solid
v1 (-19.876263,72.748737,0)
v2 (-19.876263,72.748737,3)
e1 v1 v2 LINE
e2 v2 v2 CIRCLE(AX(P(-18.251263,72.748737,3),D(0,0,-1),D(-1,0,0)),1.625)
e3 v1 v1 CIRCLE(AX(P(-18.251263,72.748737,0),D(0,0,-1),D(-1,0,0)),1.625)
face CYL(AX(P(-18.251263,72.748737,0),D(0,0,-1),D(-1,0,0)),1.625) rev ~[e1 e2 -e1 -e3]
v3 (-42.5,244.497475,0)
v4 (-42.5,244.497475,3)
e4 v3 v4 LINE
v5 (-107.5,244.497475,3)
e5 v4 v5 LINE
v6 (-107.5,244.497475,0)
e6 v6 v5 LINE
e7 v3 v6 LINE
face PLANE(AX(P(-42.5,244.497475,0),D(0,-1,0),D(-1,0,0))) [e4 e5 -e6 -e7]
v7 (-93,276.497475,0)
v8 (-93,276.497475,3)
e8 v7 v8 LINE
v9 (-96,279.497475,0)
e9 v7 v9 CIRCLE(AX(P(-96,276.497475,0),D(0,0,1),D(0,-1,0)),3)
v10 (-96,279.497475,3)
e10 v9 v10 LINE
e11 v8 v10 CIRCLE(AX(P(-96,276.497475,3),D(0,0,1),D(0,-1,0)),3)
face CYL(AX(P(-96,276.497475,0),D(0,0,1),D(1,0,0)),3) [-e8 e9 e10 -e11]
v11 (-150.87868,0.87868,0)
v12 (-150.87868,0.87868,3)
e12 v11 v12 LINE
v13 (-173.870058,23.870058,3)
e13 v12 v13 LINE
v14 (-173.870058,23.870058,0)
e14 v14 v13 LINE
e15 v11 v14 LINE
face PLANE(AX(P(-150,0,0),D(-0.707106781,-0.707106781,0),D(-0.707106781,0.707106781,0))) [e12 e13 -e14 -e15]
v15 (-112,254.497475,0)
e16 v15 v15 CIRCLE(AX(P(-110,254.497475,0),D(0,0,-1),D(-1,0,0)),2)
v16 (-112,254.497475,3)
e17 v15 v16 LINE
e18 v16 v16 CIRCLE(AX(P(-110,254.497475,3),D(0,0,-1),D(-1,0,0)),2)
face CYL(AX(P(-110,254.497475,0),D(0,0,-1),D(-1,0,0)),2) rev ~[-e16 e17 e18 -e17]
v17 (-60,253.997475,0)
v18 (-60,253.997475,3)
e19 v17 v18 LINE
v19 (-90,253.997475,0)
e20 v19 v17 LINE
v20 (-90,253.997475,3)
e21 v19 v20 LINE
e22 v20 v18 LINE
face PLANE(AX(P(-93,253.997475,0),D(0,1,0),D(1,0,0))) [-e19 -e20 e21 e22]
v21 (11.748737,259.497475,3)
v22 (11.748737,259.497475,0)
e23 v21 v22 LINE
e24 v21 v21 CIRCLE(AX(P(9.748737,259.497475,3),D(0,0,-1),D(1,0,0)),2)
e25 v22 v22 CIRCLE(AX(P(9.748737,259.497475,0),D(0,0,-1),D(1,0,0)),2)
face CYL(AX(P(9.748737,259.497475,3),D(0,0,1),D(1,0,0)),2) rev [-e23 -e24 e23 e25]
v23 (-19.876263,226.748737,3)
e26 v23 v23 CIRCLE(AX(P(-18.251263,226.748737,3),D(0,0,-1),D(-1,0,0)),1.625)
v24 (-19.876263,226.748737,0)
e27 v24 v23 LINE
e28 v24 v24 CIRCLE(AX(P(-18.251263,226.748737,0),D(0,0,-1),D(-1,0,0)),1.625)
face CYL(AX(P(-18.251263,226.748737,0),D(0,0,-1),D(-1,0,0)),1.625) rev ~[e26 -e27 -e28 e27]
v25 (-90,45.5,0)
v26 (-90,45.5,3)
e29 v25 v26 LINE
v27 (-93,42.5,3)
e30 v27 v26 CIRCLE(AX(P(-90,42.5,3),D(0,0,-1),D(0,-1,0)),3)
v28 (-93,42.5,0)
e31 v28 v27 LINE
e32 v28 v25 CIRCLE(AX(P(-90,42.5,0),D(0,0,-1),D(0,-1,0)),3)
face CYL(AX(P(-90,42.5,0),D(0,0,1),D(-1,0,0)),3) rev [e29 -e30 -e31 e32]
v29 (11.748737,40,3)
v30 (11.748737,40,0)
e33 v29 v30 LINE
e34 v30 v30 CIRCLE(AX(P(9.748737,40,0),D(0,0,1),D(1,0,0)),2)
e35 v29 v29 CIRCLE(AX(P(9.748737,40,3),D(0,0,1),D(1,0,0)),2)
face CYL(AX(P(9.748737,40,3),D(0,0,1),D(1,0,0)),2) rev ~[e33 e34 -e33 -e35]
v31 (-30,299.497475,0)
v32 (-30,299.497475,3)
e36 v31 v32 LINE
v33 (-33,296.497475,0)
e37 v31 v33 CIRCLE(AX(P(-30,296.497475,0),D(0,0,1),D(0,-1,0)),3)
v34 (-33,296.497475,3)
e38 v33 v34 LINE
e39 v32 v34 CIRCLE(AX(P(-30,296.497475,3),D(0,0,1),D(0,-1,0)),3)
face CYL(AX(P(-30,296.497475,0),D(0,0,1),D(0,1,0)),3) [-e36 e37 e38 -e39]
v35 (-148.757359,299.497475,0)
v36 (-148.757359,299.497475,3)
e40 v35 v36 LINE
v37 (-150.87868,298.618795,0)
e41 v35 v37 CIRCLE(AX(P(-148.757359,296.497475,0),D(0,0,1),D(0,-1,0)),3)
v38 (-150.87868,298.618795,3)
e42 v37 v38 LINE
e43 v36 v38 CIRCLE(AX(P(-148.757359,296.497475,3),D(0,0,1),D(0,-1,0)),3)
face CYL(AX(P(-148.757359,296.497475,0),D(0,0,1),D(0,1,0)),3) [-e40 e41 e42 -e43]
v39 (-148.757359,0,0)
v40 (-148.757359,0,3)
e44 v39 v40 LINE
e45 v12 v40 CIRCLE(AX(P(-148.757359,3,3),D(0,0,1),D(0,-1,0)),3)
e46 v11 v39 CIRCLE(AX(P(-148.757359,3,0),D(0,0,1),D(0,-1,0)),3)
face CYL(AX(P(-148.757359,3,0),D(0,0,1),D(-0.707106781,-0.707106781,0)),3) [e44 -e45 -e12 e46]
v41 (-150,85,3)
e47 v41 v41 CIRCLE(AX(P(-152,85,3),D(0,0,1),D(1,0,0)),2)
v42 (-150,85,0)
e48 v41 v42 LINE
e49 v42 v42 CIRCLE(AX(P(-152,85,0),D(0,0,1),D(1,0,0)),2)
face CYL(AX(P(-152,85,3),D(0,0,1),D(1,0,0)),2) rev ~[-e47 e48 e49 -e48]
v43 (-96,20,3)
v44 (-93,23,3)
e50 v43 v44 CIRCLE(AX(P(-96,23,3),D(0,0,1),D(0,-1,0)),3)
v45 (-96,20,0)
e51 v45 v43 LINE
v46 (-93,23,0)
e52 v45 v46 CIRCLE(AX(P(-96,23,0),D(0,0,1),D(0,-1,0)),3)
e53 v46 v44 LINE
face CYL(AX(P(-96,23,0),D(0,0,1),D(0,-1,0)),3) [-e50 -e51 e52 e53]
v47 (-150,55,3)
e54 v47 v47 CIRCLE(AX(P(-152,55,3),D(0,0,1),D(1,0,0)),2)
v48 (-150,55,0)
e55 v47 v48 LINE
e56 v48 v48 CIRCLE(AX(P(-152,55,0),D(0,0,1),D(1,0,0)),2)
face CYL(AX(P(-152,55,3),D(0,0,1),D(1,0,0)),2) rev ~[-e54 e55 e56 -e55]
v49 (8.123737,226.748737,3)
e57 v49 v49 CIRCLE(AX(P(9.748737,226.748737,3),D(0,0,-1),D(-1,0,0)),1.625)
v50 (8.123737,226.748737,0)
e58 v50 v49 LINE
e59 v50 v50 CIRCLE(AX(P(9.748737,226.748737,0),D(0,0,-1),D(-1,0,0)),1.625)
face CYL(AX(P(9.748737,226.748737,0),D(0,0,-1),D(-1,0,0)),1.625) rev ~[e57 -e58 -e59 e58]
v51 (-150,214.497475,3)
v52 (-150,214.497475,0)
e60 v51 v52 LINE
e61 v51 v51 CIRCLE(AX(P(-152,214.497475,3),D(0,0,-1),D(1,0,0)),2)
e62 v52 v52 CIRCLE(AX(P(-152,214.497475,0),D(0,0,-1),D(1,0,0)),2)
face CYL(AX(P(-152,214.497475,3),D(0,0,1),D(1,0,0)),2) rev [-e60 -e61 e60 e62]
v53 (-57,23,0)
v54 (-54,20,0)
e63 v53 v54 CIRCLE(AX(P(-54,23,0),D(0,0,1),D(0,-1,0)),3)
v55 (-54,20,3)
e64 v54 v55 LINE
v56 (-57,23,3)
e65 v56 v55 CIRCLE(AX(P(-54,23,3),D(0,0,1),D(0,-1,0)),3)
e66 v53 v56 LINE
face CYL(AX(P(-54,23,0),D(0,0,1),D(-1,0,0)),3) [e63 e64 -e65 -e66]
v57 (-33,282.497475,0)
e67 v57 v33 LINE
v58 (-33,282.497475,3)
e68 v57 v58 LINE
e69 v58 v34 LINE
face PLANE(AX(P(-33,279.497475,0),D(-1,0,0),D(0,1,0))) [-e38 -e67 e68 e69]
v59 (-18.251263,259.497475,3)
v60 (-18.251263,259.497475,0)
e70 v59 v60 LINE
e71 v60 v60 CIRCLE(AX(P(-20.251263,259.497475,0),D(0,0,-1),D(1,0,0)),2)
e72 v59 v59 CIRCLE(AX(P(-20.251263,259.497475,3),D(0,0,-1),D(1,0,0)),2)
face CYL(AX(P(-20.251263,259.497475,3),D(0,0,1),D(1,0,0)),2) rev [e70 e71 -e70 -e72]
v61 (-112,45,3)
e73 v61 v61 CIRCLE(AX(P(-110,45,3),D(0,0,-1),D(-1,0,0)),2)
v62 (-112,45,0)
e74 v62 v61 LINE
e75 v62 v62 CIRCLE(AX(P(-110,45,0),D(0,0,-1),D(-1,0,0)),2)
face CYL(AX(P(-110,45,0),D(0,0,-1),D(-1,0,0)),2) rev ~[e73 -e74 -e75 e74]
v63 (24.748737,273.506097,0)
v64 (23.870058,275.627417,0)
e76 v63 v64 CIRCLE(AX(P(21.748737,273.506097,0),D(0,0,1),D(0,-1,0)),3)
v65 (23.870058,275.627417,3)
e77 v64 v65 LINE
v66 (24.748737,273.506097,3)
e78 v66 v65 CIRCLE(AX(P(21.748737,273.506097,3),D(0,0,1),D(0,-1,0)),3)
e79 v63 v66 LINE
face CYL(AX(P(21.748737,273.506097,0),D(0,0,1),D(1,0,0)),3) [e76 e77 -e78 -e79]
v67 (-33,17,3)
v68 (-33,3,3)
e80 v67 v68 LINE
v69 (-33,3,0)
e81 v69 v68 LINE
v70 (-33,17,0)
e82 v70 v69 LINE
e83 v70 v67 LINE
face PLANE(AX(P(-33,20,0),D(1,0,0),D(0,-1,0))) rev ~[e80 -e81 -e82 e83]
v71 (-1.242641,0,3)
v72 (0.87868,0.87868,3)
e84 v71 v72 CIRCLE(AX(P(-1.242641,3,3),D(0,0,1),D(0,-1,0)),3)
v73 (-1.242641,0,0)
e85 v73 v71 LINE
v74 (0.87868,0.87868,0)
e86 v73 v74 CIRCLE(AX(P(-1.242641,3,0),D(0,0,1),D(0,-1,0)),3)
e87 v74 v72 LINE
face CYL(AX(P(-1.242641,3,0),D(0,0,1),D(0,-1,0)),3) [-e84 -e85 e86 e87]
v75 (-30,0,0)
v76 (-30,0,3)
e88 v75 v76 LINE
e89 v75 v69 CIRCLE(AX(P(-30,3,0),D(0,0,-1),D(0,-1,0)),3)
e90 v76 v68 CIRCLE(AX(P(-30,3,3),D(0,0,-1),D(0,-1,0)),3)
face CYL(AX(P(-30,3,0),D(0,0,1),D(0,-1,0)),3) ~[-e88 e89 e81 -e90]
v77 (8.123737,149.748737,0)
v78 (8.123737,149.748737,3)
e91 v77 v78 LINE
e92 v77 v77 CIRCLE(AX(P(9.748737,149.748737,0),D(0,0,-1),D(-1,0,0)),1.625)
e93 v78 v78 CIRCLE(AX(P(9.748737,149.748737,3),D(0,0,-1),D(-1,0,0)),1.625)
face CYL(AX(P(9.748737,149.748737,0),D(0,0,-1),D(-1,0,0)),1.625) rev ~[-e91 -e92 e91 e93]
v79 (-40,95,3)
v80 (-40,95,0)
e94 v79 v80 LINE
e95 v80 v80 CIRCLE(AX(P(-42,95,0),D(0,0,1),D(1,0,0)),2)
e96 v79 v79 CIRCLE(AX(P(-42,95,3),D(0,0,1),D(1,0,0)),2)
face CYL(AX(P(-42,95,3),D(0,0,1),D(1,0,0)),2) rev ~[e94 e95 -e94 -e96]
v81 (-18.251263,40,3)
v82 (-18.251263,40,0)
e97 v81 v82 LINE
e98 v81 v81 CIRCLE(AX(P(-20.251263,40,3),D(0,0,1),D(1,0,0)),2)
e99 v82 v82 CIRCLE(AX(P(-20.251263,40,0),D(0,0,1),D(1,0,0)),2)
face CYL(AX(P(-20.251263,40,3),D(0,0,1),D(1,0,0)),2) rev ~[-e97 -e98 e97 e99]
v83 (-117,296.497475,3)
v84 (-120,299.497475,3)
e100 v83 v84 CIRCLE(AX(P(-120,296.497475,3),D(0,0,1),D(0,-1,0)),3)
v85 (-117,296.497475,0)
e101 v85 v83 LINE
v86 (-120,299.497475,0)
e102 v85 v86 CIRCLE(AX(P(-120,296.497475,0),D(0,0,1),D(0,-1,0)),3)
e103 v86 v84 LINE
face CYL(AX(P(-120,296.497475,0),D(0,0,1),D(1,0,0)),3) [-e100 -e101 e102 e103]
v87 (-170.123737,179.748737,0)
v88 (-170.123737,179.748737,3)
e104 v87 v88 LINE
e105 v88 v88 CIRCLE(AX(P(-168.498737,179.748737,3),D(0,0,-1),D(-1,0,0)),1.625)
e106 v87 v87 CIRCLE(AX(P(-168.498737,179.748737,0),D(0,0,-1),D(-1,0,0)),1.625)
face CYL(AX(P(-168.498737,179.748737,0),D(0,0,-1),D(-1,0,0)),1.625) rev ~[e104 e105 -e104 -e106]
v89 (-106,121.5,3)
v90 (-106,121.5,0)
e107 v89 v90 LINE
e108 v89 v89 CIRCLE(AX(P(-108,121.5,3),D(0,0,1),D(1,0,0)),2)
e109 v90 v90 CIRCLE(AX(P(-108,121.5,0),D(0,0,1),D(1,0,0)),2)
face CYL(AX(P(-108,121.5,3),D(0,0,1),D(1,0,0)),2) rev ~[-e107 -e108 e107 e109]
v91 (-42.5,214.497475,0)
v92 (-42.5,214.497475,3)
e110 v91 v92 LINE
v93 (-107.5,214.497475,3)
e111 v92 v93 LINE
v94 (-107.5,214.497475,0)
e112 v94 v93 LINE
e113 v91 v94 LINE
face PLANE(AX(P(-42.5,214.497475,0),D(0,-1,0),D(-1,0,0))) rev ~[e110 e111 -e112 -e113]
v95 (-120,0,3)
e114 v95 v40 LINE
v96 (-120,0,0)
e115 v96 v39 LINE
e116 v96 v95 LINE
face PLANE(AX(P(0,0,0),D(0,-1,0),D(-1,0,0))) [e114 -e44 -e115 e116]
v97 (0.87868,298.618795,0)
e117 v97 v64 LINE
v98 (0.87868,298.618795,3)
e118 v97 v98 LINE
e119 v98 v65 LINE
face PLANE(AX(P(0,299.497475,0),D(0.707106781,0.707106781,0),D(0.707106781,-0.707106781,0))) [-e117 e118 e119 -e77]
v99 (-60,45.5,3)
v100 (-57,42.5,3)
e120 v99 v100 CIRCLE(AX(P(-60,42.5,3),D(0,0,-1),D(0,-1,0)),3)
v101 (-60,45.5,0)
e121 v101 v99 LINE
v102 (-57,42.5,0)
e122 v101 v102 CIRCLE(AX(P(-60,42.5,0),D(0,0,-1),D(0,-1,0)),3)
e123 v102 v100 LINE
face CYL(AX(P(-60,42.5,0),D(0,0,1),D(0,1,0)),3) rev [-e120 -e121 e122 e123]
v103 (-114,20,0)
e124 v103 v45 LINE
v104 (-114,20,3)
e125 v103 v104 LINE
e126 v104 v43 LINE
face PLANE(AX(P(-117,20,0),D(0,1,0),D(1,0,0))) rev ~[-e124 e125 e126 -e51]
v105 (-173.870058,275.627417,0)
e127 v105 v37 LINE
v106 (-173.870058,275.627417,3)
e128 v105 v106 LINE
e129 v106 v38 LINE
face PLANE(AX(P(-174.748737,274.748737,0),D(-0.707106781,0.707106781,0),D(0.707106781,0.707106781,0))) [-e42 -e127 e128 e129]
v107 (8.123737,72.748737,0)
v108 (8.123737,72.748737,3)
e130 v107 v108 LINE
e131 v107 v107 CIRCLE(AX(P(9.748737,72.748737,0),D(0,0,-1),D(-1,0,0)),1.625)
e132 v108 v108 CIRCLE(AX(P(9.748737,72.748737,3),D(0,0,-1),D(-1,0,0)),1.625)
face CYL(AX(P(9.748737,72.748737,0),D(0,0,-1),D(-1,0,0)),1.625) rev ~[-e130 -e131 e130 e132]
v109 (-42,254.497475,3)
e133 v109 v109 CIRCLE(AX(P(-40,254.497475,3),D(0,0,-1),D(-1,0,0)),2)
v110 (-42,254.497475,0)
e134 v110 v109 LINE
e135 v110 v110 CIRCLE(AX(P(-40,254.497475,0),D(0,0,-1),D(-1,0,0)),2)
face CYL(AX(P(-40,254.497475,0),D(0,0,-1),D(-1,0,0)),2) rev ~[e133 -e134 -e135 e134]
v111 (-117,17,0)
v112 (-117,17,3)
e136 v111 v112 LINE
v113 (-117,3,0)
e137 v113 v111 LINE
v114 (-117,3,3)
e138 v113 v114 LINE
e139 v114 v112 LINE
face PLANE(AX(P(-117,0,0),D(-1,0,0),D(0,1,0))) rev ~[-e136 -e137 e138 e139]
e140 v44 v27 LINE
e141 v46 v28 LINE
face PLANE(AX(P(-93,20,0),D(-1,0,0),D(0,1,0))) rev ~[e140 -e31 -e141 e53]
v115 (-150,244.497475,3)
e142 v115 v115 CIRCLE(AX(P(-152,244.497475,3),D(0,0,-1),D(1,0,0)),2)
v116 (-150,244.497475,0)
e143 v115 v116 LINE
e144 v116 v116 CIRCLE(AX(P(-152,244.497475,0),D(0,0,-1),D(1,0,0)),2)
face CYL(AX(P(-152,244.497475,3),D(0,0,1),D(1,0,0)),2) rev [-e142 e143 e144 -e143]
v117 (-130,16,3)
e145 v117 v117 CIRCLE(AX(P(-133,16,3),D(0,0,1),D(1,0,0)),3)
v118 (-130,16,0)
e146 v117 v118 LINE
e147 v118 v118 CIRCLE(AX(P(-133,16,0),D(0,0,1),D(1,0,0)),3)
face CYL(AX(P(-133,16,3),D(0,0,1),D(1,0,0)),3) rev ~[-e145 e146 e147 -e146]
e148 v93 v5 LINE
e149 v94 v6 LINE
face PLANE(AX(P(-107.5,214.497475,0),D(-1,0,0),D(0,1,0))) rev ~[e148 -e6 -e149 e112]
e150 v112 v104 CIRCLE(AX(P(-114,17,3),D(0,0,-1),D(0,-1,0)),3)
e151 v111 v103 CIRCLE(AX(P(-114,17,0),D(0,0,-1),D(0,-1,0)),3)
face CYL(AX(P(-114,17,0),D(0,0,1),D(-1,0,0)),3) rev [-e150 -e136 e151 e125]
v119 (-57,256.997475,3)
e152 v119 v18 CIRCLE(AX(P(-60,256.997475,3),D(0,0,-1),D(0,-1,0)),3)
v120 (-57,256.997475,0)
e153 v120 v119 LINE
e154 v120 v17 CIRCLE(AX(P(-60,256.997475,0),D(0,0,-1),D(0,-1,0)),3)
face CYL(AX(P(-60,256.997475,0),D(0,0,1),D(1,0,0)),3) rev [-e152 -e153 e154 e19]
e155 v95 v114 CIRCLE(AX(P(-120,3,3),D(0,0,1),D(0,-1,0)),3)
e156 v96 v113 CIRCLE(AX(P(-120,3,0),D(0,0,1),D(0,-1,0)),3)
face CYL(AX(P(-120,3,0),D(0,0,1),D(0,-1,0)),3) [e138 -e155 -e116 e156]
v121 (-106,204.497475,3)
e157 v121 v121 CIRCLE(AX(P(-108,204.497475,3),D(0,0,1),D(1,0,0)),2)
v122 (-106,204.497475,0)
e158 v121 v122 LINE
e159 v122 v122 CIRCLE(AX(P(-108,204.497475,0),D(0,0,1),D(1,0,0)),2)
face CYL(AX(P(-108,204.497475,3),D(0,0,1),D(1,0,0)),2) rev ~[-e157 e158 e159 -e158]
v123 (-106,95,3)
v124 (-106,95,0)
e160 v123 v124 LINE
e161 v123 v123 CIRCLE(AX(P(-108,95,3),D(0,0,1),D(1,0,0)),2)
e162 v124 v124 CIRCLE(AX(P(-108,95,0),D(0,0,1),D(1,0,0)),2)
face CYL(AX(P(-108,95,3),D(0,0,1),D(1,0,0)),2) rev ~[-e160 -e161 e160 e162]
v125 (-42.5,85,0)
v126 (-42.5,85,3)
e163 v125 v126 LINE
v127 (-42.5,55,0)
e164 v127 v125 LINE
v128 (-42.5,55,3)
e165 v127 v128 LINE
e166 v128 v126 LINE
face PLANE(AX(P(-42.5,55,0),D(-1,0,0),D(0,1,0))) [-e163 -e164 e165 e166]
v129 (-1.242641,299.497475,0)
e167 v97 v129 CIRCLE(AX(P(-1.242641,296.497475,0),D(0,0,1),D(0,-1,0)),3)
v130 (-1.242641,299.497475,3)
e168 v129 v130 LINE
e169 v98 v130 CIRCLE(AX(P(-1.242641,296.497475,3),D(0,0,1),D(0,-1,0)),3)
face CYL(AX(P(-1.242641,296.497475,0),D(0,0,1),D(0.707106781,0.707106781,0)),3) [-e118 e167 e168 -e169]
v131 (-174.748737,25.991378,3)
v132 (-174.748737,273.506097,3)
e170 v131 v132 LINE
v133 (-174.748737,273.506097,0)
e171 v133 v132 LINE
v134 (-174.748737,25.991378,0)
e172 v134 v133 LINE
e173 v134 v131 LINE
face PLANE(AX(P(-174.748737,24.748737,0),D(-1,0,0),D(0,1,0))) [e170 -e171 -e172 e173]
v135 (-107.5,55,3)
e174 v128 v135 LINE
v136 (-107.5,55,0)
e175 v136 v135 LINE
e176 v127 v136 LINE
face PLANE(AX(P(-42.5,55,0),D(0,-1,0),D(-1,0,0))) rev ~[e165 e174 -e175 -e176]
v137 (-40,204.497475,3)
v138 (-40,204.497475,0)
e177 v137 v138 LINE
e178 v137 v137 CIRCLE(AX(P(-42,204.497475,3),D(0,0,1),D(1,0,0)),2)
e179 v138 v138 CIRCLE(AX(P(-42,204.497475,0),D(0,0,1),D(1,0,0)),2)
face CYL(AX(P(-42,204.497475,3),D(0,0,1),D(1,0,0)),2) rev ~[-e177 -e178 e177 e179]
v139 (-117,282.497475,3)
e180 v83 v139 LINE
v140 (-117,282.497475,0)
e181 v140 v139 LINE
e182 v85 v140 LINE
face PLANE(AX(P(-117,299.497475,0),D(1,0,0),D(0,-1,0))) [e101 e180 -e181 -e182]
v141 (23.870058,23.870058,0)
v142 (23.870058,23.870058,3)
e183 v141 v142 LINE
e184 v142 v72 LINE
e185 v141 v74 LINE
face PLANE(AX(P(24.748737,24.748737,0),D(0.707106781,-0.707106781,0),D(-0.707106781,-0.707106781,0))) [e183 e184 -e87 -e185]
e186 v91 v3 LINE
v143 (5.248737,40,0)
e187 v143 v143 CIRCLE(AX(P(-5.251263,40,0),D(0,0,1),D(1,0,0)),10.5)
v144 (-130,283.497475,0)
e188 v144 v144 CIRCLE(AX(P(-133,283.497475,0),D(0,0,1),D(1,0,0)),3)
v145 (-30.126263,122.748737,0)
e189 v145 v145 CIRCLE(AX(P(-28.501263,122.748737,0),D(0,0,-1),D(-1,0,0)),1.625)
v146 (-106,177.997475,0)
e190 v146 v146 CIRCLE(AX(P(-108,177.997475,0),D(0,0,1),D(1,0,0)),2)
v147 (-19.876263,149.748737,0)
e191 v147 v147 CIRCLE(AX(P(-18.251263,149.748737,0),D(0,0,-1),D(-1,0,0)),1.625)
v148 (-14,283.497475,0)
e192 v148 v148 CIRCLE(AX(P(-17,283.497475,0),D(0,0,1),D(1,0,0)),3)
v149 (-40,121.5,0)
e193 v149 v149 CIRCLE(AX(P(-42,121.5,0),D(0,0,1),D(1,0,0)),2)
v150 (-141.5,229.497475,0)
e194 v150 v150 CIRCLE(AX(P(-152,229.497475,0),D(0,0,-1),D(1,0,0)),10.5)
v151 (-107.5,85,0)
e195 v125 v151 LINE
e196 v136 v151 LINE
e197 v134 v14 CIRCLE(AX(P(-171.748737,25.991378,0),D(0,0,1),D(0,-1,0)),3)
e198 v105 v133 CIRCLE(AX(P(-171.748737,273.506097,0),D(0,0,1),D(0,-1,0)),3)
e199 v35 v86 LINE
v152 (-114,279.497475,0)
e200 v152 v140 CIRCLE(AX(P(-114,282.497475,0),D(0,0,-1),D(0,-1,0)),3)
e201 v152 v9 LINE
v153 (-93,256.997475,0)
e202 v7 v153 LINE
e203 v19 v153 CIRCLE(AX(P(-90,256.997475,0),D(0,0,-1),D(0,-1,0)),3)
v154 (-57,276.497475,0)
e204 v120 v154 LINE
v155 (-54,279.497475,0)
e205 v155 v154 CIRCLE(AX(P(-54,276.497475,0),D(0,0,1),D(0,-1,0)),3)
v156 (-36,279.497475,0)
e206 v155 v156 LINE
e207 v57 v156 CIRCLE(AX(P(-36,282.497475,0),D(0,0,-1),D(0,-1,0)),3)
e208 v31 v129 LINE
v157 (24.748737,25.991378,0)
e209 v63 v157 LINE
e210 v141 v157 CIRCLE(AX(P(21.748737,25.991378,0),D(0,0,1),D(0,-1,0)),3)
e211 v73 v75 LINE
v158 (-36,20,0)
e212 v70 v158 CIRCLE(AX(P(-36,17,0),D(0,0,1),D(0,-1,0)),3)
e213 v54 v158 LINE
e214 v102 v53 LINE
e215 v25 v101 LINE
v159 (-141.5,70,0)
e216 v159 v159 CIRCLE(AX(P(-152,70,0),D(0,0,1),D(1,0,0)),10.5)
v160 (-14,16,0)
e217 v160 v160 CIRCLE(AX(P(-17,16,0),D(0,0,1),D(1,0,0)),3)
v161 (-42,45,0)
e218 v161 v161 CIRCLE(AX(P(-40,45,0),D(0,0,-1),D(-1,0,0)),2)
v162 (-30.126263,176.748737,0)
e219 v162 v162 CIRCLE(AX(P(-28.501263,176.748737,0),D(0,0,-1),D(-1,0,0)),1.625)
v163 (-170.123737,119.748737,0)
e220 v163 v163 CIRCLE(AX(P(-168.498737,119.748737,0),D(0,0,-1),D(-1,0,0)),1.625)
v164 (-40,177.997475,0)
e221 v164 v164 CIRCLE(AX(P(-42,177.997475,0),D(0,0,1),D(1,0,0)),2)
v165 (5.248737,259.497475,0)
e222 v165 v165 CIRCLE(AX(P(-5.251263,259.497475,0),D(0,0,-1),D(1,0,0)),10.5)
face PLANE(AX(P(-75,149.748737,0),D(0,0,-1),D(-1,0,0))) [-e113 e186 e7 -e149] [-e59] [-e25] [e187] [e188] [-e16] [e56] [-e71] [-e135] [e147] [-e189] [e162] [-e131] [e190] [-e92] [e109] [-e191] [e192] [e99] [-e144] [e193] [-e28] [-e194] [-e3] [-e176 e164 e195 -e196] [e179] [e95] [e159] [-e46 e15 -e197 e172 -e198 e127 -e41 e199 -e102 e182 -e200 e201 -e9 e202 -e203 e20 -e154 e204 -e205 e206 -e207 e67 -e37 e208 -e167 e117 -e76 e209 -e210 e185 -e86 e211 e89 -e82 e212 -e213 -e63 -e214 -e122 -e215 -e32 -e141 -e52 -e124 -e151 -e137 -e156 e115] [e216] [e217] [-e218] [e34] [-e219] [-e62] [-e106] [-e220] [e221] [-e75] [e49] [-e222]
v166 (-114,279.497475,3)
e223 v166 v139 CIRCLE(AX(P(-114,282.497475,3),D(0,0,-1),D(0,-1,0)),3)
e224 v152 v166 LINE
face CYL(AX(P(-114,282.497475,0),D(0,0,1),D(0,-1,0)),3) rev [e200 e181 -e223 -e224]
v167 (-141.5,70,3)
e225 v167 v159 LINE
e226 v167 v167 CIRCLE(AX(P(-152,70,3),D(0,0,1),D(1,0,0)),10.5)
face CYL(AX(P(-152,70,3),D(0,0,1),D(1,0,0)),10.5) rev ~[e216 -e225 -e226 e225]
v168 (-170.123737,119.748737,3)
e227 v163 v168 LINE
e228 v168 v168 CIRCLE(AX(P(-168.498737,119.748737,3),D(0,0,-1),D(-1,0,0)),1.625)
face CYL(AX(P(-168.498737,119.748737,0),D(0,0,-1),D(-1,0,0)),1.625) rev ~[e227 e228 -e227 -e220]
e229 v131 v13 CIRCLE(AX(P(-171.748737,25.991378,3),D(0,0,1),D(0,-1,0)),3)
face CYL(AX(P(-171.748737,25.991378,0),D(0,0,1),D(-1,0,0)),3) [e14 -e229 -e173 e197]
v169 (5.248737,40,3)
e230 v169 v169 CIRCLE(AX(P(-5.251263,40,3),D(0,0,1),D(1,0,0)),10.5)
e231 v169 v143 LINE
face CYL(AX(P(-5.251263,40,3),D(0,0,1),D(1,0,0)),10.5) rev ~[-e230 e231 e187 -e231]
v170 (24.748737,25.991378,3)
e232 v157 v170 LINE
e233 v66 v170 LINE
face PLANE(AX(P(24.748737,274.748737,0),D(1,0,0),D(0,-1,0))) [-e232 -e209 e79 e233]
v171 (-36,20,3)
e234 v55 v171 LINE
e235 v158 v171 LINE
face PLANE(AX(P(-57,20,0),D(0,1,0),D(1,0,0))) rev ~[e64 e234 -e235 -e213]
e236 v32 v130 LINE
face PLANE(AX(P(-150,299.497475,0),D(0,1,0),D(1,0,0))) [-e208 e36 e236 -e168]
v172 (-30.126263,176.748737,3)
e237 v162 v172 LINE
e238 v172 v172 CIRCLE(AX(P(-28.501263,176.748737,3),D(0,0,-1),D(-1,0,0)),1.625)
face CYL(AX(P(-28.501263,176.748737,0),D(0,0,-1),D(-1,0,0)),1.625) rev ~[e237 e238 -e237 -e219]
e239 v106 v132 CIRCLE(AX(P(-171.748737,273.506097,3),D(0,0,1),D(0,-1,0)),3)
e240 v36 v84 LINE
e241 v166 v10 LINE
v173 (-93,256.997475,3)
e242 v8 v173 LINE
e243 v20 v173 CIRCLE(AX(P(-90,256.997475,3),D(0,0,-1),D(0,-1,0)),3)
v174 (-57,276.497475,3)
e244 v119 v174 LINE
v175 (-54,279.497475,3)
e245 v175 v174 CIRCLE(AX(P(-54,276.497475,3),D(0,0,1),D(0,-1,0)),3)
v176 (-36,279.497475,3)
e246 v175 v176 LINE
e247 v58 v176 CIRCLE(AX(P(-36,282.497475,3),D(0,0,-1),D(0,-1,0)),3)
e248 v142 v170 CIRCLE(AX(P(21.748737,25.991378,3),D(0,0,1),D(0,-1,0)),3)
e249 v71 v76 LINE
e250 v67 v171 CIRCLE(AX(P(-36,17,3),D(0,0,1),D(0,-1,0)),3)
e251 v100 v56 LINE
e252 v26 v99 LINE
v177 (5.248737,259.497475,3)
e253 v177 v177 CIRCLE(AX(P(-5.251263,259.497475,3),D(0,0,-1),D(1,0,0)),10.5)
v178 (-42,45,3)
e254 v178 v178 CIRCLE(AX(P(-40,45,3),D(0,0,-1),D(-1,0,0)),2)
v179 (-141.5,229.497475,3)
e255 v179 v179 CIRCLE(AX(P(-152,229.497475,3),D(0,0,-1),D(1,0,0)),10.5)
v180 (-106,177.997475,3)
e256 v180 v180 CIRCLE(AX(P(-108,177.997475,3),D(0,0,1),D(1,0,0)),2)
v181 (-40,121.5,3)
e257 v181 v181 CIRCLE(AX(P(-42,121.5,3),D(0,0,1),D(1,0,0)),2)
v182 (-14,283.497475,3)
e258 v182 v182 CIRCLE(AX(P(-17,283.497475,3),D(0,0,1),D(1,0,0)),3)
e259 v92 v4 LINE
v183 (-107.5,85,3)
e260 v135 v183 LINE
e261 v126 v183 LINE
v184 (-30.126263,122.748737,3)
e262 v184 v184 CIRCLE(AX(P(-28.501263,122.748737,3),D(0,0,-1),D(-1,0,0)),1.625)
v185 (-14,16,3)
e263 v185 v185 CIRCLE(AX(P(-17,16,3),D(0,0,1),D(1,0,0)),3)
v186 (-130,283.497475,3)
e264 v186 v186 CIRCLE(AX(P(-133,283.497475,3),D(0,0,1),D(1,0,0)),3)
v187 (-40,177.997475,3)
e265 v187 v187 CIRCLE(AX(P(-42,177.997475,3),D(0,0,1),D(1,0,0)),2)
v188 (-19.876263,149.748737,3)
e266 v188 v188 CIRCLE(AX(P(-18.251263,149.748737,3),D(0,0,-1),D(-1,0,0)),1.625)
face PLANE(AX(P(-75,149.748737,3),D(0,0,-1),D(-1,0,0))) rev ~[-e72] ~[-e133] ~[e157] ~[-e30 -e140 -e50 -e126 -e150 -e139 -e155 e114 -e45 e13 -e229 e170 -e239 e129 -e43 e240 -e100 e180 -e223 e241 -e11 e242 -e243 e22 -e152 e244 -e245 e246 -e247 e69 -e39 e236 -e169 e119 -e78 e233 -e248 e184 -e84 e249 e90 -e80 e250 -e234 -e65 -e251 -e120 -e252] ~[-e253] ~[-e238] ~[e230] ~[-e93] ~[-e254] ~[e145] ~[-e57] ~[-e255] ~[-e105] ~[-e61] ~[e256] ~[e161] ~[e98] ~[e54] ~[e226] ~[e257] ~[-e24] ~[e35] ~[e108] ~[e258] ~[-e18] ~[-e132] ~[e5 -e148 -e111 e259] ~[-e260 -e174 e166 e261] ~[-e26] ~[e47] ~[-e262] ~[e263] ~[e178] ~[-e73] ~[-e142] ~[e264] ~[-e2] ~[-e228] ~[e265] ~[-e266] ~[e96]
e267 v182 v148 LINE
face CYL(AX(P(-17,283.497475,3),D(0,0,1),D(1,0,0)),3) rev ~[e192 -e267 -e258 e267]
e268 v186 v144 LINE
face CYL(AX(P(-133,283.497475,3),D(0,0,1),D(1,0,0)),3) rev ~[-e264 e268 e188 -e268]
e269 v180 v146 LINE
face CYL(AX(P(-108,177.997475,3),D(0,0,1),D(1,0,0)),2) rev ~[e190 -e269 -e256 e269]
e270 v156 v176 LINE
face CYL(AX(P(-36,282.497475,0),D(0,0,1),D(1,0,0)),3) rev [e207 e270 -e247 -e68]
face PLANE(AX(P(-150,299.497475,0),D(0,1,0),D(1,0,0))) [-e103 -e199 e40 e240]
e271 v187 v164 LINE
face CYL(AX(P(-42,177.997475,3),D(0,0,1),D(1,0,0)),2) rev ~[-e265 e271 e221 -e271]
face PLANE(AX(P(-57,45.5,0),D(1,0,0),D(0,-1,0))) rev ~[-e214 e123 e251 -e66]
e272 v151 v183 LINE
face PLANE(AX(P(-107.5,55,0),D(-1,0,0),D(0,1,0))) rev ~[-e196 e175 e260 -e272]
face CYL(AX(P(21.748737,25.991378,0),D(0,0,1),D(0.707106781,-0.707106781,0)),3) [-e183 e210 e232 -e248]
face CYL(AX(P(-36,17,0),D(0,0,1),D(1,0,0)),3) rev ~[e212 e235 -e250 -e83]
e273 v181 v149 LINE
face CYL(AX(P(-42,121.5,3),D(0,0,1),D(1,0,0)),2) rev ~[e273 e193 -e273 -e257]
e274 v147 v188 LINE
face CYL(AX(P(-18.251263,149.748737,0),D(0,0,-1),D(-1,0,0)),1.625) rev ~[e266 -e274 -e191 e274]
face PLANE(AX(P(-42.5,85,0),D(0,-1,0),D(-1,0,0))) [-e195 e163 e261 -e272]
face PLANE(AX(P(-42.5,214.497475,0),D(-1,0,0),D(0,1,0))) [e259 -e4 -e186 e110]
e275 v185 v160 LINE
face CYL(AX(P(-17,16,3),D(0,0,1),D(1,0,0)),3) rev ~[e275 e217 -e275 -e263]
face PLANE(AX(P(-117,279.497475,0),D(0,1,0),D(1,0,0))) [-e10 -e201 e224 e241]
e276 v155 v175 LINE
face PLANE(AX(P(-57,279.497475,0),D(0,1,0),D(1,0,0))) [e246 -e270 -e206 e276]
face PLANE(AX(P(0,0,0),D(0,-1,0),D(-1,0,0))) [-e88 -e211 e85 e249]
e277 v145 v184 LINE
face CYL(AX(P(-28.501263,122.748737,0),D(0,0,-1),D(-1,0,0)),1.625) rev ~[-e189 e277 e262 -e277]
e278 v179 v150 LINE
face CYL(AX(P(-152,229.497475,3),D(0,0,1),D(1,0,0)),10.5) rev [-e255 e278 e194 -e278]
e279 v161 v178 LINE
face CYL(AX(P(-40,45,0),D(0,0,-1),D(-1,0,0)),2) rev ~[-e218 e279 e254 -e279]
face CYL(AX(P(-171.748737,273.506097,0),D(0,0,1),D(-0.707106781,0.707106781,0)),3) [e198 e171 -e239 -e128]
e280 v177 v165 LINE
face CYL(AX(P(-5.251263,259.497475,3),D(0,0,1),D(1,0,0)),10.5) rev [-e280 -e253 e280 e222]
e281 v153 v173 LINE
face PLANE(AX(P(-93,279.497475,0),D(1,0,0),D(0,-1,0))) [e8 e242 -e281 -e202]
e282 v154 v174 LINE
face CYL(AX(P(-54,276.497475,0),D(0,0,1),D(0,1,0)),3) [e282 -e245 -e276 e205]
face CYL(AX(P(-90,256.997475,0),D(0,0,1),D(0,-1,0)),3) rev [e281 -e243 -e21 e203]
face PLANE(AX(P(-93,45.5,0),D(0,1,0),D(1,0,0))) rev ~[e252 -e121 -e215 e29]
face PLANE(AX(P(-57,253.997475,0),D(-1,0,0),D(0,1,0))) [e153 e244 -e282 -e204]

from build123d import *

# Parameters (mm, degrees)
BASE_DEPTH                = 3
ESQUISSE3_R               = 2
ESQUISSE3_W               = 65
ESQUISSE3_H               = 30
ENL_V_MAT_EXTRU_1_DEPTH   = 4
CONG_1_R                  = 3
ESQUISSE6_R               = 2
ESQUISSE6_R_2             = 10.5
PER_AGE_POUR_BILLES_DEPTH = 3
PER_AGE_POUR_PROFIL_REACH = 5
ESQUISSE8_R               = 3
ESQUISSE10_R              = 2
ENL_V_MAT_EXTRU_3_DEPTH   = 4
ESQUISSE12_R              = 1.625
ENL_V_MAT_EXTRU_4_DEPTH   = 4
ESQUISSE13_R              = 1.625
ENL_V_MAT_EXTRU_5_DEPTH   = 4


with BuildPart() as part:
    # Esquisse1 → Base (new body)
    with BuildSketch(Plane.XY):
        Polygon((0, 0), (-150, 0), (-174.748737342, 24.748737342), (-174.748737342, 274.748737342), (-150, 299.497474683), (0, 299.497474683), (24.748737342, 274.748737342), (24.748737342, 24.748737342), align=None)
    extrude(amount=BASE_DEPTH)

    # Esquisse3 → Enlèv. mat.-Extru.1 (cut, through all)
    with BuildSketch(Plane(origin=(0, 0, 0), x_dir=(-1, 0, 0), z_dir=(0, 0, -1))):
        with Locations((40, 45)):
            Circle(ESQUISSE3_R)
        with Locations((110, 45)):
            Circle(ESQUISSE3_R)
        with Locations((110, 254.497474683)):
            Circle(ESQUISSE3_R)
        with Locations((40, 254.497474683)):
            Circle(ESQUISSE3_R)
        Polygon((117, 0), (117, 20), (93, 20), (93, 45.5), (57, 45.5), (57, 20), (33, 20), (33, 0), align=None)
        Polygon((33, 299.497474683), (117, 299.497474683), (117, 279.497474683), (93, 279.497474683), (93, 253.997474683), (57, 253.997474683), (57, 279.497474683), (33, 279.497474683), align=None)
        with Locations((75, 229.497474683)):
            Rectangle(ESQUISSE3_W, ESQUISSE3_H)
        with Locations((75, 70)):
            Rectangle(ESQUISSE3_W, ESQUISSE3_H)
    extrude(amount=-ENL_V_MAT_EXTRU_1_DEPTH, mode=Mode.SUBTRACT)

    # Congé1
    cong_1_edges = [part.edges().sort_by_distance(p)[0] for p in [
        (0, 0, 1.5),
        (-150, 0, 1.5),
        (-174.748737342, 24.748737342, 1.5),
        (-174.748737342, 274.748737342, 1.5),
        (-150, 299.497474683, 1.5),
        (0, 299.497474683, 1.5),
        (24.748737342, 274.748737342, 1.5),
        (24.748737342, 24.748737342, 1.5),
        (-33, 279.497474683, 1.5),
        (-33, 299.497474683, 1.5),
        (-117, 299.497474683, 1.5),
        (-117, 279.497474683, 1.5),
        (-93, 279.497474683, 1.5),
        (-93, 253.997474683, 1.5),
        (-57, 253.997474683, 1.5),
        (-57, 279.497474683, 1.5),
        (-117, 0, 1.5),
        (-33, 0, 1.5),
        (-33, 20, 1.5),
        (-57, 20, 1.5),
        (-57, 45.5, 1.5),
        (-93, 45.5, 1.5),
        (-93, 20, 1.5),
        (-117, 20, 1.5),
    ]]
    fillet(cong_1_edges, radius=CONG_1_R)

    # Esquisse6 → Perçage pour billes (cut)
    with BuildSketch(Plane.XY.offset(3)):
        with Locations((-152, 55)):
            Circle(ESQUISSE6_R)
        with Locations((-152, 85)):
            Circle(ESQUISSE6_R)
        with Locations((-152, 70)):
            Circle(ESQUISSE6_R_2)
        with Locations((-5.251262658, 40)):
            Circle(ESQUISSE6_R_2)
        with Locations((-20.251262658, 40)):
            Circle(ESQUISSE6_R)
        with Locations((9.748737342, 40)):
            Circle(ESQUISSE6_R)
    per_age_pour_billes = extrude(amount=-PER_AGE_POUR_BILLES_DEPTH, mode=Mode.SUBTRACT)

    # Esquisse8 → Perçage pour profilé (cut, up to next)
    with BuildSketch(Plane.XY.offset(3), mode=Mode.PRIVATE) as per_age_pour_profil_sk1:
        with Locations((-133, 16)):
            Circle(ESQUISSE8_R)
    per_age_pour_profil_tool1 = extrude(per_age_pour_profil_sk1.sketch, amount=-PER_AGE_POUR_PROFIL_REACH, mode=Mode.PRIVATE) & part.part
    add(per_age_pour_profil_tool1.solids().sort_by_distance((-133, 16, 3))[0], mode=Mode.SUBTRACT)
    # Esquisse8 → Perçage pour profilé (cut, up to next)
    with BuildSketch(Plane.XY.offset(3), mode=Mode.PRIVATE) as per_age_pour_profil_sk2:
        with Locations((-133, 283.497474683)):
            Circle(ESQUISSE8_R)
    per_age_pour_profil_tool2 = extrude(per_age_pour_profil_sk2.sketch, amount=-PER_AGE_POUR_PROFIL_REACH, mode=Mode.PRIVATE) & part.part
    add(per_age_pour_profil_tool2.solids().sort_by_distance((-133, 283.497475, 3))[0], mode=Mode.SUBTRACT)
    # Esquisse8 → Perçage pour profilé (cut, up to next)
    with BuildSketch(Plane.XY.offset(3), mode=Mode.PRIVATE) as per_age_pour_profil_sk3:
        with Locations((-17, 283.497474683)):
            Circle(ESQUISSE8_R)
    per_age_pour_profil_tool3 = extrude(per_age_pour_profil_sk3.sketch, amount=-PER_AGE_POUR_PROFIL_REACH, mode=Mode.PRIVATE) & part.part
    add(per_age_pour_profil_tool3.solids().sort_by_distance((-17, 283.497475, 3))[0], mode=Mode.SUBTRACT)
    # Esquisse8 → Perçage pour profilé (cut, up to next)
    with BuildSketch(Plane.XY.offset(3), mode=Mode.PRIVATE) as per_age_pour_profil_sk4:
        with Locations((-17, 16)):
            Circle(ESQUISSE8_R)
    per_age_pour_profil_tool4 = extrude(per_age_pour_profil_sk4.sketch, amount=-PER_AGE_POUR_PROFIL_REACH, mode=Mode.PRIVATE) & part.part
    add(per_age_pour_profil_tool4.solids().sort_by_distance((-17, 16, 3))[0], mode=Mode.SUBTRACT)

    # Esquisse10 → Enlèv. mat.-Extru.3 (cut, through all)
    with BuildSketch(Plane.XY.offset(3)):
        with Locations((-108, 204.497474683)):
            Circle(ESQUISSE10_R)
        with Locations((-108, 177.997474683)):
            Circle(ESQUISSE10_R)
        with Locations((-42, 177.997474683)):
            Circle(ESQUISSE10_R)
        with Locations((-42, 204.497474683)):
            Circle(ESQUISSE10_R)
        with Locations((-42, 121.5)):
            Circle(ESQUISSE10_R)
        with Locations((-42, 95)):
            Circle(ESQUISSE10_R)
        with Locations((-108, 121.5)):
            Circle(ESQUISSE10_R)
        with Locations((-108, 95)):
            Circle(ESQUISSE10_R)
    extrude(amount=-ENL_V_MAT_EXTRU_3_DEPTH, mode=Mode.SUBTRACT)

    # Symétrie2: Perçage pour billes across plane
    add(per_age_pour_billes.mirror(Plane.ZX.offset(149.748737342)), mode=Mode.SUBTRACT)

    # Esquisse12 → Enlèv. mat.-Extru.4 (cut, through all)
    with BuildSketch(Plane(origin=(0, 0, 0), x_dir=(-1, 0, 0), z_dir=(0, 0, -1))):
        with Locations((-9.748737342, 72.748737342)):
            Circle(ESQUISSE12_R)
        with Locations((-9.748737342, 149.748737342)):
            Circle(ESQUISSE12_R)
        with Locations((-9.748737342, 226.748737342)):
            Circle(ESQUISSE12_R)
        with Locations((18.251262658, 226.748737342)):
            Circle(ESQUISSE12_R)
        with Locations((18.251262658, 149.748737342)):
            Circle(ESQUISSE12_R)
        with Locations((18.251262658, 72.748737342)):
            Circle(ESQUISSE12_R)
    extrude(amount=-ENL_V_MAT_EXTRU_4_DEPTH, mode=Mode.SUBTRACT)

    # Esquisse13 → Enlèv. mat.-Extru.5 (cut, through all)
    with BuildSketch(Plane(origin=(0, 0, 0), x_dir=(-1, 0, 0), z_dir=(0, 0, -1))):
        with Locations((28.501262658, 122.748737342)):
            Circle(ESQUISSE13_R)
        with Locations((28.501262658, 176.748737342)):
            Circle(ESQUISSE13_R)
        with Locations((168.498737342, 119.748737342)):
            Circle(ESQUISSE13_R)
        with Locations((168.498737342, 179.748737342)):
            Circle(ESQUISSE13_R)
    extrude(amount=-ENL_V_MAT_EXTRU_5_DEPTH, mode=Mode.SUBTRACT)


solid = part.part
